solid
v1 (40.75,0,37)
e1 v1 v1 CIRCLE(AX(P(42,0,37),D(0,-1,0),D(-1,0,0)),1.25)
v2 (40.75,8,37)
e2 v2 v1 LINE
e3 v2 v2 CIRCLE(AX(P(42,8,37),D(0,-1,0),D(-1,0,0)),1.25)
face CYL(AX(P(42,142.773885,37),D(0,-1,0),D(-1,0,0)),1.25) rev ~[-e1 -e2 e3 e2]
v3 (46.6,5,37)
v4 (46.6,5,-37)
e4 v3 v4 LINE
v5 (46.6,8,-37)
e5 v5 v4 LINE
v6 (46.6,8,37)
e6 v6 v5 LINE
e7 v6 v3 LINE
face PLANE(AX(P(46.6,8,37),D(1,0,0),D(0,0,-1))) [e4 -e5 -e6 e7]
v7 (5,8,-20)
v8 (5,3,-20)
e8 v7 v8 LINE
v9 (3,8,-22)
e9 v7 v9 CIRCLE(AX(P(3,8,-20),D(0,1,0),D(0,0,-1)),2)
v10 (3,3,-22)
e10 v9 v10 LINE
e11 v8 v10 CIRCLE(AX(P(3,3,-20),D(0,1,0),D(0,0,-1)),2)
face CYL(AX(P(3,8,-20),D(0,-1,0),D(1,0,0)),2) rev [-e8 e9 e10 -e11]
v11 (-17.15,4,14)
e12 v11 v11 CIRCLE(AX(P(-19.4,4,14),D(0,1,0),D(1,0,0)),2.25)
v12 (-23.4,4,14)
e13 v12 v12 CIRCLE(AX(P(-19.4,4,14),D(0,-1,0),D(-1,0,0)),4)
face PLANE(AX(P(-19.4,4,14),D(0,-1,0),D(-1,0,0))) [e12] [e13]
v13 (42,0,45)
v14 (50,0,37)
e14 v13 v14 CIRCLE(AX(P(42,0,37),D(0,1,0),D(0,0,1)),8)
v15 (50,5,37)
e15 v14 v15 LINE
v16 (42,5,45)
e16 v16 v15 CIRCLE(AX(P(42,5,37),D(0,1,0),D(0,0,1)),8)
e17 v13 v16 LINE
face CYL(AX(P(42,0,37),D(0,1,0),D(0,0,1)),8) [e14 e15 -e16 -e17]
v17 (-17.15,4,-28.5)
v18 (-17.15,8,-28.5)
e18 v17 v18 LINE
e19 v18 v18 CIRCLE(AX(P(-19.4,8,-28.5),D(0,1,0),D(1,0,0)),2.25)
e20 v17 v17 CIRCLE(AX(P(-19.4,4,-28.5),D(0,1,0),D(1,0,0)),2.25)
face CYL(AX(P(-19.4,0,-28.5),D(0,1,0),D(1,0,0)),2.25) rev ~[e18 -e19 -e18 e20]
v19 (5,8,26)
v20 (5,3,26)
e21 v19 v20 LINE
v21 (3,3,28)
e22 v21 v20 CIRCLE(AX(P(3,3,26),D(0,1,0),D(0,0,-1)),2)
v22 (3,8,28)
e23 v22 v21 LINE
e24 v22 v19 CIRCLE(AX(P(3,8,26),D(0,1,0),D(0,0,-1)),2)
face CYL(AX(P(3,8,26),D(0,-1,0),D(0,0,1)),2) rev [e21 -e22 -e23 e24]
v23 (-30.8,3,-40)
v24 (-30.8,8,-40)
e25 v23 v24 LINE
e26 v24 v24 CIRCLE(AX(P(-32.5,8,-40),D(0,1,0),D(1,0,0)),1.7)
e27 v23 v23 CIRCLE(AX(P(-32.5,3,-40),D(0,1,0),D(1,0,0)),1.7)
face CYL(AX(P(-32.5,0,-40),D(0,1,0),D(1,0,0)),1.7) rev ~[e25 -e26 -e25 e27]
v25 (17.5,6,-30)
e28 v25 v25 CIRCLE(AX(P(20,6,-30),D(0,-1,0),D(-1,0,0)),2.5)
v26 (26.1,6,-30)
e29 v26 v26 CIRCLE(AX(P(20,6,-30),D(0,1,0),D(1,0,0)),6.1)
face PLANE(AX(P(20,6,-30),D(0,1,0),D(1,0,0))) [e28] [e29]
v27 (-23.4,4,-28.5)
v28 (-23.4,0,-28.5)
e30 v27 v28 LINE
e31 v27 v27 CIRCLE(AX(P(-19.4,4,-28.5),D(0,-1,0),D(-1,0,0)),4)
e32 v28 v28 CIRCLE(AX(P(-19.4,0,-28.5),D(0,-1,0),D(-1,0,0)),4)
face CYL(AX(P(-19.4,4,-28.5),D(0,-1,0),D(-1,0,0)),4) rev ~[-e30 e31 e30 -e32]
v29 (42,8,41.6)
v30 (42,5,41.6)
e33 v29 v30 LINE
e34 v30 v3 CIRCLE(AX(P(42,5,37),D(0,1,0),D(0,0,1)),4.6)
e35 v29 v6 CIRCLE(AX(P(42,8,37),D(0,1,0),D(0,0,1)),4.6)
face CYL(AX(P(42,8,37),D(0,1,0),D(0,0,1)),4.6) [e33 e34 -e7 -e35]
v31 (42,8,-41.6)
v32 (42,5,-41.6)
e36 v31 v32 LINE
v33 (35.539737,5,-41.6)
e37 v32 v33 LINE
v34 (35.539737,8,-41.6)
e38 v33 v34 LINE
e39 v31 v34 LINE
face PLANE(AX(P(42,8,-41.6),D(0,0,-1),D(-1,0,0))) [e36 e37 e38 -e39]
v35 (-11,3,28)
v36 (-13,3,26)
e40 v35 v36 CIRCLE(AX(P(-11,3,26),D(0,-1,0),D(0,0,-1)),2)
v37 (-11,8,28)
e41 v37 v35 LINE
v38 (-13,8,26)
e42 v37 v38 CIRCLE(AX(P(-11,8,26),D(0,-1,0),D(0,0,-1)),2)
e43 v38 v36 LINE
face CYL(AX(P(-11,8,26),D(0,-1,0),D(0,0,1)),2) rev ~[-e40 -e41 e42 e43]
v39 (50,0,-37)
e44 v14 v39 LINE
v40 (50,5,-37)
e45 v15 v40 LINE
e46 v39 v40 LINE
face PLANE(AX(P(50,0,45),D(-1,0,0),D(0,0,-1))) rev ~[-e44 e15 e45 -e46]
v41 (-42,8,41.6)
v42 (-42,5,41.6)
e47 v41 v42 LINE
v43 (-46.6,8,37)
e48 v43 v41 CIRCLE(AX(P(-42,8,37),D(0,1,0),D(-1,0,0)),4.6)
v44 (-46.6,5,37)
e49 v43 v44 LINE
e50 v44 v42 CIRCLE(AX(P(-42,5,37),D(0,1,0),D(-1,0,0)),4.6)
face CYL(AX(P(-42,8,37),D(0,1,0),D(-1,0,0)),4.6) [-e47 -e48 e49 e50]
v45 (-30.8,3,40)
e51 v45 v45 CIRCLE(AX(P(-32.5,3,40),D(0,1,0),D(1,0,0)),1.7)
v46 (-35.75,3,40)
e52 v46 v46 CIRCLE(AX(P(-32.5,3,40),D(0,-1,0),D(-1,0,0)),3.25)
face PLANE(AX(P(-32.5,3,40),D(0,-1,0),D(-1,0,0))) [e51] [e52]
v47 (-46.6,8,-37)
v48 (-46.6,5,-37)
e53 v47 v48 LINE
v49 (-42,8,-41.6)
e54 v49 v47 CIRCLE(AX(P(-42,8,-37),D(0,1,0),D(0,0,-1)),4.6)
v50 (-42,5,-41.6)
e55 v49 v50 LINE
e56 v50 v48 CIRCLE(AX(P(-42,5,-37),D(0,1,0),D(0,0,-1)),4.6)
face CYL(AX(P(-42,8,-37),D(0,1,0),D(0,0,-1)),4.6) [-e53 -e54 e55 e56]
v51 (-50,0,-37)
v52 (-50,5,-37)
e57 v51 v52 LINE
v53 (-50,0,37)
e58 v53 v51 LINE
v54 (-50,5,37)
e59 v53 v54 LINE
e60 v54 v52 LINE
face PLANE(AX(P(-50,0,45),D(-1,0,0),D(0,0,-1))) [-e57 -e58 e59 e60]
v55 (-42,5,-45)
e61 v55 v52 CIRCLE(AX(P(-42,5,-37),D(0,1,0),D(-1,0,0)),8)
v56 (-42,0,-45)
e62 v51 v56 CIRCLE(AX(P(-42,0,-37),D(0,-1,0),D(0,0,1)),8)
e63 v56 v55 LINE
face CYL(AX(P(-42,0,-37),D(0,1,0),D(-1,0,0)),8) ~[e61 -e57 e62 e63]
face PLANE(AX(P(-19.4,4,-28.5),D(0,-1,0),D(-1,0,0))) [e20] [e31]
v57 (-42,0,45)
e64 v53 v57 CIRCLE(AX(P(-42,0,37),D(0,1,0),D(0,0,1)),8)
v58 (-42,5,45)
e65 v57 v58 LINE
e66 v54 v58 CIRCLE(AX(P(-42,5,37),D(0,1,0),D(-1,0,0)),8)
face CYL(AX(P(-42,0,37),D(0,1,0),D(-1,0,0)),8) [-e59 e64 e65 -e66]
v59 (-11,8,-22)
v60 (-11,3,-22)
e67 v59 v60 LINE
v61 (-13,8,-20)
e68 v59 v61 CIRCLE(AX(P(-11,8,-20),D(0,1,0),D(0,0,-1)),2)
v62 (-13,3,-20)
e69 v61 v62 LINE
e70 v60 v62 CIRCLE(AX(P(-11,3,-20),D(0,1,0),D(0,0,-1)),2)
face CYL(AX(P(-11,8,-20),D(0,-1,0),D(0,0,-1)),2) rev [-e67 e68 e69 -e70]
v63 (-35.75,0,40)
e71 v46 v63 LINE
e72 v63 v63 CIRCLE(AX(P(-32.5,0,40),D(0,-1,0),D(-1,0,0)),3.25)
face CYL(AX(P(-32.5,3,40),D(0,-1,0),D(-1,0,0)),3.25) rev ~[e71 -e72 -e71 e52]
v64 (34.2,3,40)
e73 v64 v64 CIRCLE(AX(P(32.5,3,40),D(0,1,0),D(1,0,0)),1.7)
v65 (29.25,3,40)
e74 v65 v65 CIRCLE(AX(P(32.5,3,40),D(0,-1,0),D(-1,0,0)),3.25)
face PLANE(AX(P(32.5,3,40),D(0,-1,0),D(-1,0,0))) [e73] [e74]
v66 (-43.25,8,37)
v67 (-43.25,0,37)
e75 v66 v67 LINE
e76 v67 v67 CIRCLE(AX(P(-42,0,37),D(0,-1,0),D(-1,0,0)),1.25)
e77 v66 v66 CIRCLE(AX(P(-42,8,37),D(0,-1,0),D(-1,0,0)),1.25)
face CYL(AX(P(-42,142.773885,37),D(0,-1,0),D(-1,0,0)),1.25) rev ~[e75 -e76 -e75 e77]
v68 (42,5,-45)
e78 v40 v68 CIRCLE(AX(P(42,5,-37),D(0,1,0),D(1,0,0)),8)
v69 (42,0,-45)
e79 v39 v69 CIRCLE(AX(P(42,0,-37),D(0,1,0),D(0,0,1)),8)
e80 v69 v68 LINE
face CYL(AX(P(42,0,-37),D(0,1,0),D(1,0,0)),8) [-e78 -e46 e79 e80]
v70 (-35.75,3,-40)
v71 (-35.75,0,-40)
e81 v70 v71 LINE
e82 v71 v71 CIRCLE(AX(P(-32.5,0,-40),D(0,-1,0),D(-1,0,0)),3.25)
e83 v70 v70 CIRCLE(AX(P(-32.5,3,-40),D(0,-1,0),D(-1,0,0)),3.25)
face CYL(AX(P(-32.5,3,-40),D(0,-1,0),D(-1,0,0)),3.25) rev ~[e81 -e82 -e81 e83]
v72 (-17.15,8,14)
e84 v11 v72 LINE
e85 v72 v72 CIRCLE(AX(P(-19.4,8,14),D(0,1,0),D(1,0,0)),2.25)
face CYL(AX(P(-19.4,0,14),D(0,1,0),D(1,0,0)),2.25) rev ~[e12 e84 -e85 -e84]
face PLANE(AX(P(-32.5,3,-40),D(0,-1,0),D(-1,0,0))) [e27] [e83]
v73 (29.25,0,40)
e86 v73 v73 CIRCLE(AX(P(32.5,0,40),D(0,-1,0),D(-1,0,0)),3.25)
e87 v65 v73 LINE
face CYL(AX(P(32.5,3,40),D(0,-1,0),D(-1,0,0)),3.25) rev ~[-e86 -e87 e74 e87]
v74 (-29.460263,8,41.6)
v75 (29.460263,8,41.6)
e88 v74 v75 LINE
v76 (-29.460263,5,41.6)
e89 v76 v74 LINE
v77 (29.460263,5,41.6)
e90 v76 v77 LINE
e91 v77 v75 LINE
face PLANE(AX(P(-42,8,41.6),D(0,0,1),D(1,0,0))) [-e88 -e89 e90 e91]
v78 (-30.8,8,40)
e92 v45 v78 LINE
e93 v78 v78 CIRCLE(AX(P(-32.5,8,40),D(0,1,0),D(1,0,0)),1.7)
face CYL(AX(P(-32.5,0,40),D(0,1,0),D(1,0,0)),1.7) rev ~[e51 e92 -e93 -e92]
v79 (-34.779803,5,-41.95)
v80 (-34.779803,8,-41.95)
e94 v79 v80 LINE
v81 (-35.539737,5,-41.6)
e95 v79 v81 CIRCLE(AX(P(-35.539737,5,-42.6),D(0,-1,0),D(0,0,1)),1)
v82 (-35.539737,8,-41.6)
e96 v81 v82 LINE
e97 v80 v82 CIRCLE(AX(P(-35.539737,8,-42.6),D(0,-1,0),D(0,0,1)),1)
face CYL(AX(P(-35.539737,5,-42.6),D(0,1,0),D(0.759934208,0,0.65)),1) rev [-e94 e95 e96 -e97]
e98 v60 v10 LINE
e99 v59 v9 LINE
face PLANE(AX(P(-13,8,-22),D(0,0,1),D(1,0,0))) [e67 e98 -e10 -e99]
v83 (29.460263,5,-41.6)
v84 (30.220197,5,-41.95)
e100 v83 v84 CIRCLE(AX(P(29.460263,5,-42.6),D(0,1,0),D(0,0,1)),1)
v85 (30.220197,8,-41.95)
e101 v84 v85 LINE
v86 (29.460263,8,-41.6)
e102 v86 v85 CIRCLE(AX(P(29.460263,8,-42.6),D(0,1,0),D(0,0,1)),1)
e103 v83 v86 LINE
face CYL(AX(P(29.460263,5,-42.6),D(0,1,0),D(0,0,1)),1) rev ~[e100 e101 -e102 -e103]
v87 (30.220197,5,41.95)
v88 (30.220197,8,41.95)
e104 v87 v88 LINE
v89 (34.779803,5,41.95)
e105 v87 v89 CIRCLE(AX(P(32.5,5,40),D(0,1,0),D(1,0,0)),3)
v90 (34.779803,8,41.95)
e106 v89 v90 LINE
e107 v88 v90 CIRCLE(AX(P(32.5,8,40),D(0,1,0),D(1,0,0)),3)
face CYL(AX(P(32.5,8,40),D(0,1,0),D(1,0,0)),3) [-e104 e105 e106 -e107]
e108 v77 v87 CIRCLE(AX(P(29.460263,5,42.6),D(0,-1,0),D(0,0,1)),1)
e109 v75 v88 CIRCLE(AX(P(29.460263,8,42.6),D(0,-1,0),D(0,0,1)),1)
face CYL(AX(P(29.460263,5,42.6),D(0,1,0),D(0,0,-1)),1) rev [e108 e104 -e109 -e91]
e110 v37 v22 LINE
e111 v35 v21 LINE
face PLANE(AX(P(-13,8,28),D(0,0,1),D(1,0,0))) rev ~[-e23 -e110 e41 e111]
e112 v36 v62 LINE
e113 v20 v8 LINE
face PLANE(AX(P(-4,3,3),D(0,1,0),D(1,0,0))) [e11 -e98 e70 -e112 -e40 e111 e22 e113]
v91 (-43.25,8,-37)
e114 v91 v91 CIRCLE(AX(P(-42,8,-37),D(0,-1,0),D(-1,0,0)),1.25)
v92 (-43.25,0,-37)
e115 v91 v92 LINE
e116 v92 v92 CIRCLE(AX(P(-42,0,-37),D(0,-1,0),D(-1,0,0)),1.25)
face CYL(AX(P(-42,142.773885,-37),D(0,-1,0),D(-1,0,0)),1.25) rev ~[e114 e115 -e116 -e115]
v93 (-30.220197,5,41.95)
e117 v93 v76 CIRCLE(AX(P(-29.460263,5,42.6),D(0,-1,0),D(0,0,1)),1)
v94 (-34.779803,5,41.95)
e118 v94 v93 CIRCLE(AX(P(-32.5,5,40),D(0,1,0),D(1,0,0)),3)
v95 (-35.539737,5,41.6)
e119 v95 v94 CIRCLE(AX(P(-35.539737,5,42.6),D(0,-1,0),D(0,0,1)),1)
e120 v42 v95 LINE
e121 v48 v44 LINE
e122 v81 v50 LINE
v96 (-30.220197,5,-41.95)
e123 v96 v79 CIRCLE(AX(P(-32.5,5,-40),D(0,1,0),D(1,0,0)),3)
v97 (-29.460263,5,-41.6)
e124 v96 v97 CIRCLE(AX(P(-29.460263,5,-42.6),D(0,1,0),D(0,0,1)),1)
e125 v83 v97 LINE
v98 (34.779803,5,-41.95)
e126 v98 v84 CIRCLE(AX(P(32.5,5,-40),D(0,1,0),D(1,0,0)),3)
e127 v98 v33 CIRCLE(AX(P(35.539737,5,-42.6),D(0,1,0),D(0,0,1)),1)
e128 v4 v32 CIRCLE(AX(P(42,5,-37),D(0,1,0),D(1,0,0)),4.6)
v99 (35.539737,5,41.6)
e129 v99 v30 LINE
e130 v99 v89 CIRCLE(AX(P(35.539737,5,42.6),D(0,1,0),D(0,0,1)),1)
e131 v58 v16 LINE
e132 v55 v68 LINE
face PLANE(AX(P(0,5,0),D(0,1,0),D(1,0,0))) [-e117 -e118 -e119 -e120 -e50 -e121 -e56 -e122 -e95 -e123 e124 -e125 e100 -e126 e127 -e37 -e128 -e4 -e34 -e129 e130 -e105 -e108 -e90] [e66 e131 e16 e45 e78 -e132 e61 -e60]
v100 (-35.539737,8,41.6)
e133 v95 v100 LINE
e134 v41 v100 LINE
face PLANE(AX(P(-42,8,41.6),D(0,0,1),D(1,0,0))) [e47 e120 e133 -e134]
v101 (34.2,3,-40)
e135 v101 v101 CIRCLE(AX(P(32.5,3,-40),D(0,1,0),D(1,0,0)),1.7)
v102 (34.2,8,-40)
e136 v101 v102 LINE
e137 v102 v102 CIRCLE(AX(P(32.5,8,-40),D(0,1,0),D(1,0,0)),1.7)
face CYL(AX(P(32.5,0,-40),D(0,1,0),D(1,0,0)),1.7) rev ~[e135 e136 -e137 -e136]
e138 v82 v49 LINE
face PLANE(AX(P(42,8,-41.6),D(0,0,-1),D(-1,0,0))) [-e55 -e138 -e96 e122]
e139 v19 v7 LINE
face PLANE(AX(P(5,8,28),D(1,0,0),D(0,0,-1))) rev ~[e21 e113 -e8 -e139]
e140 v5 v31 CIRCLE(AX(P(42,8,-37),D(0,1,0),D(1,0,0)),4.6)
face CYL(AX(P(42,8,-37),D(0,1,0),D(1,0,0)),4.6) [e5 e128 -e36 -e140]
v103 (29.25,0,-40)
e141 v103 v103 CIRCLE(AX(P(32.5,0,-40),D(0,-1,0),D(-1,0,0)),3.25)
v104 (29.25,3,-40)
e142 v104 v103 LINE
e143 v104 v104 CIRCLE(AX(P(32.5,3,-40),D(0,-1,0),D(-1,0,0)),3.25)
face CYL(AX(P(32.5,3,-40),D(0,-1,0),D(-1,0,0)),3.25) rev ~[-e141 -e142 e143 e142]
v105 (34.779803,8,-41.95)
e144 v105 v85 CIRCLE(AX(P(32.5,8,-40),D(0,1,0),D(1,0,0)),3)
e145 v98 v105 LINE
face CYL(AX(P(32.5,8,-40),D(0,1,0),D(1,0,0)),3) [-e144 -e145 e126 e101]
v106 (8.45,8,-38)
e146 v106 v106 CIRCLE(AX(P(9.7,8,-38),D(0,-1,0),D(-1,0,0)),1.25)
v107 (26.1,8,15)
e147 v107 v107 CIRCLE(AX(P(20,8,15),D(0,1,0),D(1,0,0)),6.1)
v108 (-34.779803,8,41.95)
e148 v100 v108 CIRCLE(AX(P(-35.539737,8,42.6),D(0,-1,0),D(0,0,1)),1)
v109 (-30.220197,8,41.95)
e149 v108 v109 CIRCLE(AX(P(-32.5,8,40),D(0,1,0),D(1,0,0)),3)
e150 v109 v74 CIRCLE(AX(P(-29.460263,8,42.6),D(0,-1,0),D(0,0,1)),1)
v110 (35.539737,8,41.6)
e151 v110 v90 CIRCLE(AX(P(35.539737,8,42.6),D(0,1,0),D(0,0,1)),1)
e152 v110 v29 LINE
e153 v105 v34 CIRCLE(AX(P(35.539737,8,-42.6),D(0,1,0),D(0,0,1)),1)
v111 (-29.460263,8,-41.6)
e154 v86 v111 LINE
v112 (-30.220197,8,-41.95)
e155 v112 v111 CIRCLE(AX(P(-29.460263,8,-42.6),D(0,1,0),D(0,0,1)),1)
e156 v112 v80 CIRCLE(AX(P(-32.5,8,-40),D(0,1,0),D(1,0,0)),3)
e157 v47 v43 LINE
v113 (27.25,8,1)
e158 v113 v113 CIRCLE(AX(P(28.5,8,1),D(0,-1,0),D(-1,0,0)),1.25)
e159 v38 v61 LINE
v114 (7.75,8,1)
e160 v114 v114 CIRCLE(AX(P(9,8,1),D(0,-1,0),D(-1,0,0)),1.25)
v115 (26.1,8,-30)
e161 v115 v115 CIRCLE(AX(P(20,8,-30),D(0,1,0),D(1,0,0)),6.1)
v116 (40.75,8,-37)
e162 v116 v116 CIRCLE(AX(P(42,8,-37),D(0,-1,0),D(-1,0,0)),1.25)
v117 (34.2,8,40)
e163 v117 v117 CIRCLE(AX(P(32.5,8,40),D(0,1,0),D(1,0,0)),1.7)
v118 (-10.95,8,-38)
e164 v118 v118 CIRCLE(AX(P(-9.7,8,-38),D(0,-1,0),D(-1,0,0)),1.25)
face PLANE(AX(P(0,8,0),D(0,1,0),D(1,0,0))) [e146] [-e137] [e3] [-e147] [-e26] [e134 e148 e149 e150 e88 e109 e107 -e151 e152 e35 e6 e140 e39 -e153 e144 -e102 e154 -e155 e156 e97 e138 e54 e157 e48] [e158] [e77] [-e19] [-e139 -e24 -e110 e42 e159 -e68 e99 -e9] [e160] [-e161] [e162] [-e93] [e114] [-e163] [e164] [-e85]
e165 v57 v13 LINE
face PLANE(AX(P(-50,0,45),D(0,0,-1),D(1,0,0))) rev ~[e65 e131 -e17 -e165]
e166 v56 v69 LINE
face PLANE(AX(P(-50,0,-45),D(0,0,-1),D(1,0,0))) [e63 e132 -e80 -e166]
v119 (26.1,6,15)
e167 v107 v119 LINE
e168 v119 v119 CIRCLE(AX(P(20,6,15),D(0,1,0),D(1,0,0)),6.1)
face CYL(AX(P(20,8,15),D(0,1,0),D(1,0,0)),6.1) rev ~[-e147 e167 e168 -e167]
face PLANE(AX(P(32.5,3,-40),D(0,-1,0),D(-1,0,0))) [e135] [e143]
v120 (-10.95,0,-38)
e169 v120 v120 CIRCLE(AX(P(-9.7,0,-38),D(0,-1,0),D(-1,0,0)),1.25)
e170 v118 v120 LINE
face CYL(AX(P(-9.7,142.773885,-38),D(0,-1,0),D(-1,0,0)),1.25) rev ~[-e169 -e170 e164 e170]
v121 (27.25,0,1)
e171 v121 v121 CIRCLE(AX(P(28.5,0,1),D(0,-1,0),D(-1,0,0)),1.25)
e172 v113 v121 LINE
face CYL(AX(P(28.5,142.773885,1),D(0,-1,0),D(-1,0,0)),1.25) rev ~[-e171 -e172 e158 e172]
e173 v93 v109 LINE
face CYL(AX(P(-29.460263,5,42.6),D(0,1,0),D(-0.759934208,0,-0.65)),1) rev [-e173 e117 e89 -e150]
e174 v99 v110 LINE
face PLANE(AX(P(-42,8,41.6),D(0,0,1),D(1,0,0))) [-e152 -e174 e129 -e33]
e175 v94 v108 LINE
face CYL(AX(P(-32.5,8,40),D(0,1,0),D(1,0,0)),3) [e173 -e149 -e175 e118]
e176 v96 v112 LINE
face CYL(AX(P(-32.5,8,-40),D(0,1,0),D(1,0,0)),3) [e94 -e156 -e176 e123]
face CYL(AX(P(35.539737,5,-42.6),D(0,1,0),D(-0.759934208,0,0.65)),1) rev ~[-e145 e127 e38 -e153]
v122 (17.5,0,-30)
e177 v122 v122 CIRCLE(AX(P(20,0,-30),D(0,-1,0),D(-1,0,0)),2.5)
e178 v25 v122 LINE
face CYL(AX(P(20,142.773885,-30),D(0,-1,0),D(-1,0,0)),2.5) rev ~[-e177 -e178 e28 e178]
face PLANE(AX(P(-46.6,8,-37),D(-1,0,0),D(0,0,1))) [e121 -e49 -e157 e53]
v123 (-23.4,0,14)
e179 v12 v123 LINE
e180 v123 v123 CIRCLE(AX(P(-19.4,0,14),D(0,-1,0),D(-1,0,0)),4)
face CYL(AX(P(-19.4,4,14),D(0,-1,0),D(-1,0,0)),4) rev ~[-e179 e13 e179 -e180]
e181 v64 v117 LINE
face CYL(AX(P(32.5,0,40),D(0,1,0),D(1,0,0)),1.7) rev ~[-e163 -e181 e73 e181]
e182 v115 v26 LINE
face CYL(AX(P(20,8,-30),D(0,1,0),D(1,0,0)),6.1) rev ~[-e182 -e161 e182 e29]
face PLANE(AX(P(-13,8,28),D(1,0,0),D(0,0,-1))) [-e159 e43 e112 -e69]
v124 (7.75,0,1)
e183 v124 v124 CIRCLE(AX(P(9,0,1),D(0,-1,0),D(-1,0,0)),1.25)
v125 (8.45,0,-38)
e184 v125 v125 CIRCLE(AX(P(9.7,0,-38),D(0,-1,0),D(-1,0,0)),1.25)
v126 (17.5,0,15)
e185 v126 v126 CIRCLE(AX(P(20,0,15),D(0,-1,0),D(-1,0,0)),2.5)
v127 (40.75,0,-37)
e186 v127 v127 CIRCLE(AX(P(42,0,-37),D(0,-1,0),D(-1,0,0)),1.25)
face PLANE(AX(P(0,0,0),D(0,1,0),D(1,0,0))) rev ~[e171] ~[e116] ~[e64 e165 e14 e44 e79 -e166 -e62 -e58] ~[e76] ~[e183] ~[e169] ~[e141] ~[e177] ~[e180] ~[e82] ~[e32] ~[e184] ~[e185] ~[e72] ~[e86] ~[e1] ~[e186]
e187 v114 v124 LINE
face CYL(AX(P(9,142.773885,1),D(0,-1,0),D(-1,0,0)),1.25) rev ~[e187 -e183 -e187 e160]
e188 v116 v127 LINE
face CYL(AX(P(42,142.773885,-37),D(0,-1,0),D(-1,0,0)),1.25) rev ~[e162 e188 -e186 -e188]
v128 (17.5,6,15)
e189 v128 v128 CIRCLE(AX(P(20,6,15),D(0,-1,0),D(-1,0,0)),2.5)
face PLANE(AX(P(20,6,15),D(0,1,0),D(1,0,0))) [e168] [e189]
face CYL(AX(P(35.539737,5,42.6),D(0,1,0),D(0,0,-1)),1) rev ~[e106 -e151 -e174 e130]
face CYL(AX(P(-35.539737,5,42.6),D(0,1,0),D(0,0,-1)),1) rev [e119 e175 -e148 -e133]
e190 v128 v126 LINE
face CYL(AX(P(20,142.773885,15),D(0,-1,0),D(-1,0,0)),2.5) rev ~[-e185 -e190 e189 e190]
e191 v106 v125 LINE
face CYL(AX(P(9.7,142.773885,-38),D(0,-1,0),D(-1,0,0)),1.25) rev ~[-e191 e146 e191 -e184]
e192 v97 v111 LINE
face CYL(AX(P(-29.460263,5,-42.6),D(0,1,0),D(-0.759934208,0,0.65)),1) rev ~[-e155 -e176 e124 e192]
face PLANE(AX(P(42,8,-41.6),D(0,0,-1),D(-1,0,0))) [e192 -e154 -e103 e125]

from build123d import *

# Parameters (mm, degrees)
SKETCH1_W                      = 100
SKETCH1_H                      = 90
BOSS_EXTRUDE1_DEPTH            = 8
FILLET1_R                      = 8
SKETCH6_R                      = 6.1
CUT_EXTRUDE1_DEPTH             = 2
SKETCH7_OUTSIDE_W              = 128.954
SKETCH7_OUTSIDE_H              = 118.954
CUT_EXTRUDE2_DEPTH             = 3
M3X0_5_TAPPED_HOLE1_D          = 2.5
M6X1_0_TAPPED_HOLE2_D          = 5
SKETCH12_R                     = 3
SKETCH12_R_2                   = 1.660846167
BOSS_EXTRUDE2_DEPTH            = 3
CBORE_FOR_M3_SHCS1_D           = 3.4
CBORE_FOR_M3_SHCS1_CBORE_D     = 6.5
CBORE_FOR_M3_SHCS1_CBORE_DEPTH = 3
FILLET2_R                      = 1
SKETCH15_W                     = 18
SKETCH15_H                     = 50
CUT_EXTRUDE3_DEPTH             = 5
FILLET3_R                      = 2
CBORE_FOR_M4_SHCS1_D           = 4.5
CBORE_FOR_M4_SHCS1_CBORE_D     = 8
CBORE_FOR_M4_SHCS1_CBORE_DEPTH = 4


with BuildPart() as part:
    # Sketch1 → Boss-Extrude1 (new body)
    with BuildSketch(Plane(origin=(0, 0, 0), x_dir=(1, 0, 0), z_dir=(0, 1, 0))):
        Rectangle(SKETCH1_W, SKETCH1_H)
    extrude(amount=BOSS_EXTRUDE1_DEPTH)

    # Fillet1
    fillet1_edges = [part.edges().sort_by_distance(p)[0] for p in [
        (50, 4, 45),
        (-50, 4, 45),
        (-50, 4, -45),
        (50, 4, -45),
    ]]
    fillet(fillet1_edges, radius=FILLET1_R)

    # Sketch6 → Cut-Extrude1 (cut)
    with BuildSketch(Plane(origin=(0, 8, 0), x_dir=(1, 0, 0), z_dir=(0, 1, 0))):
        with Locations((20, 30)):
            Circle(SKETCH6_R)
        with Locations((20, -15)):
            Circle(SKETCH6_R)
    extrude(amount=-CUT_EXTRUDE1_DEPTH, mode=Mode.SUBTRACT)

    # Sketch7 outside → Cut-Extrude2 (cut)
    with BuildSketch(Plane(origin=(0, 8, 0), x_dir=(1, 0, 0), z_dir=(0, 1, 0))):
        Rectangle(SKETCH7_OUTSIDE_W, SKETCH7_OUTSIDE_H)
        with BuildLine():
            Line((-42, -41.6), (42, -41.6))
            ThreePointArc((42, -41.6), (45.252691193, -40.252691193), (46.6, -37))
            Line((46.6, -37), (46.6, 37))
            ThreePointArc((46.6, 37), (45.252691193, 40.252691193), (42, 41.6))
            Line((42, 41.6), (-42, 41.6))
            ThreePointArc((-42, 41.6), (-45.252691193, 40.252691193), (-46.6, 37))
            Line((-46.6, 37), (-46.6, -37))
            ThreePointArc((-46.6, -37), (-45.252691193, -40.252691193), (-42, -41.6))
        make_face(mode=Mode.SUBTRACT)
    extrude(amount=-CUT_EXTRUDE2_DEPTH, mode=Mode.SUBTRACT)

    # M3x0.5 Tapped Hole1 (through all)
    with Locations(Plane(origin=(0, 8, 0), x_dir=(1, 0, 0), z_dir=(0, 1, 0))):
        with Locations((-42, -37), (-42, 37), (42, 37), (42, -37), (-9.7, 38), (9.7, 38), (28.5, -1), (9, -1)):
            Hole(M3X0_5_TAPPED_HOLE1_D / 2)

    # M6x1.0 Tapped Hole2 (through all)
    with Locations(Plane(origin=(0, 8, 0), x_dir=(1, 0, 0), z_dir=(0, 1, 0))):
        with Locations((20, 30), (20, -15)):
            Hole(M6X1_0_TAPPED_HOLE2_D / 2)

    # Sketch12 → Boss-Extrude2 (add)
    with BuildSketch(Plane(origin=(0, 8, 0), x_dir=(1, 0, 0), z_dir=(0, 1, 0))):
        with Locations((-32.5, 40)):
            Circle(SKETCH12_R)
        with Locations((-32.5, 40)):
            Circle(SKETCH12_R_2, mode=Mode.SUBTRACT)
        with Locations((32.5, 40)):
            Circle(SKETCH12_R)
        with Locations((32.5, 40)):
            Circle(SKETCH12_R_2, mode=Mode.SUBTRACT)
        with Locations((-32.5, -40)):
            Circle(SKETCH12_R)
        with Locations((-32.5, -40)):
            Circle(SKETCH12_R_2, mode=Mode.SUBTRACT)
        with Locations((32.5, -40)):
            Circle(SKETCH12_R)
        with Locations((32.5, -40)):
            Circle(SKETCH12_R_2, mode=Mode.SUBTRACT)
    extrude(amount=-BOSS_EXTRUDE2_DEPTH)

    # CBORE for M3 SHCS1 (through all)
    with Locations(Plane(origin=(0, 0, 0), x_dir=(-1, 0, 0), z_dir=(0, -1, 0))):
        with Locations((32.5, -40), (-32.5, -40), (32.5, 40), (-32.5, 40)):
            CounterBoreHole(CBORE_FOR_M3_SHCS1_D / 2, CBORE_FOR_M3_SHCS1_CBORE_D / 2, CBORE_FOR_M3_SHCS1_CBORE_DEPTH)

    # Fillet2
    fillet2_edges = [part.edges().sort_by_distance(p)[0] for p in [
        (-29.962284492, 6.5, -41.6),
        (-35.037715508, 6.5, -41.6),
        (35.037715508, 6.5, -41.6),
        (29.962284492, 6.5, -41.6),
        (-35.037715508, 6.5, 41.6),
        (-29.962284492, 6.5, 41.6),
        (35.037715508, 6.5, 41.6),
        (29.962284492, 6.5, 41.6),
    ]]
    fillet(fillet2_edges, radius=FILLET2_R)

    # Sketch15 → Cut-Extrude3 (cut)
    with BuildSketch(Plane(origin=(0, 8, 0), x_dir=(1, 0, 0), z_dir=(0, 1, 0))):
        with Locations((-4, -3)):
            Rectangle(SKETCH15_W, SKETCH15_H)
    extrude(amount=-CUT_EXTRUDE3_DEPTH, mode=Mode.SUBTRACT)

    # Fillet3
    fillet3_edges = [part.edges().sort_by_distance(p)[0] for p in [
        (-13, 5.5, 28),
        (-13, 5.5, -22),
        (5, 5.5, -22),
        (5, 5.5, 28),
    ]]
    fillet(fillet3_edges, radius=FILLET3_R)

    # CBORE for M4 SHCS1 (through all)
    with Locations(Plane(origin=(0, 0, 0), x_dir=(-1, 0, 0), z_dir=(0, -1, 0))):
        with Locations((19.4, -14), (19.4, 28.5)):
            CounterBoreHole(CBORE_FOR_M4_SHCS1_D / 2, CBORE_FOR_M4_SHCS1_CBORE_D / 2, CBORE_FOR_M4_SHCS1_CBORE_DEPTH)


solid = part.part
